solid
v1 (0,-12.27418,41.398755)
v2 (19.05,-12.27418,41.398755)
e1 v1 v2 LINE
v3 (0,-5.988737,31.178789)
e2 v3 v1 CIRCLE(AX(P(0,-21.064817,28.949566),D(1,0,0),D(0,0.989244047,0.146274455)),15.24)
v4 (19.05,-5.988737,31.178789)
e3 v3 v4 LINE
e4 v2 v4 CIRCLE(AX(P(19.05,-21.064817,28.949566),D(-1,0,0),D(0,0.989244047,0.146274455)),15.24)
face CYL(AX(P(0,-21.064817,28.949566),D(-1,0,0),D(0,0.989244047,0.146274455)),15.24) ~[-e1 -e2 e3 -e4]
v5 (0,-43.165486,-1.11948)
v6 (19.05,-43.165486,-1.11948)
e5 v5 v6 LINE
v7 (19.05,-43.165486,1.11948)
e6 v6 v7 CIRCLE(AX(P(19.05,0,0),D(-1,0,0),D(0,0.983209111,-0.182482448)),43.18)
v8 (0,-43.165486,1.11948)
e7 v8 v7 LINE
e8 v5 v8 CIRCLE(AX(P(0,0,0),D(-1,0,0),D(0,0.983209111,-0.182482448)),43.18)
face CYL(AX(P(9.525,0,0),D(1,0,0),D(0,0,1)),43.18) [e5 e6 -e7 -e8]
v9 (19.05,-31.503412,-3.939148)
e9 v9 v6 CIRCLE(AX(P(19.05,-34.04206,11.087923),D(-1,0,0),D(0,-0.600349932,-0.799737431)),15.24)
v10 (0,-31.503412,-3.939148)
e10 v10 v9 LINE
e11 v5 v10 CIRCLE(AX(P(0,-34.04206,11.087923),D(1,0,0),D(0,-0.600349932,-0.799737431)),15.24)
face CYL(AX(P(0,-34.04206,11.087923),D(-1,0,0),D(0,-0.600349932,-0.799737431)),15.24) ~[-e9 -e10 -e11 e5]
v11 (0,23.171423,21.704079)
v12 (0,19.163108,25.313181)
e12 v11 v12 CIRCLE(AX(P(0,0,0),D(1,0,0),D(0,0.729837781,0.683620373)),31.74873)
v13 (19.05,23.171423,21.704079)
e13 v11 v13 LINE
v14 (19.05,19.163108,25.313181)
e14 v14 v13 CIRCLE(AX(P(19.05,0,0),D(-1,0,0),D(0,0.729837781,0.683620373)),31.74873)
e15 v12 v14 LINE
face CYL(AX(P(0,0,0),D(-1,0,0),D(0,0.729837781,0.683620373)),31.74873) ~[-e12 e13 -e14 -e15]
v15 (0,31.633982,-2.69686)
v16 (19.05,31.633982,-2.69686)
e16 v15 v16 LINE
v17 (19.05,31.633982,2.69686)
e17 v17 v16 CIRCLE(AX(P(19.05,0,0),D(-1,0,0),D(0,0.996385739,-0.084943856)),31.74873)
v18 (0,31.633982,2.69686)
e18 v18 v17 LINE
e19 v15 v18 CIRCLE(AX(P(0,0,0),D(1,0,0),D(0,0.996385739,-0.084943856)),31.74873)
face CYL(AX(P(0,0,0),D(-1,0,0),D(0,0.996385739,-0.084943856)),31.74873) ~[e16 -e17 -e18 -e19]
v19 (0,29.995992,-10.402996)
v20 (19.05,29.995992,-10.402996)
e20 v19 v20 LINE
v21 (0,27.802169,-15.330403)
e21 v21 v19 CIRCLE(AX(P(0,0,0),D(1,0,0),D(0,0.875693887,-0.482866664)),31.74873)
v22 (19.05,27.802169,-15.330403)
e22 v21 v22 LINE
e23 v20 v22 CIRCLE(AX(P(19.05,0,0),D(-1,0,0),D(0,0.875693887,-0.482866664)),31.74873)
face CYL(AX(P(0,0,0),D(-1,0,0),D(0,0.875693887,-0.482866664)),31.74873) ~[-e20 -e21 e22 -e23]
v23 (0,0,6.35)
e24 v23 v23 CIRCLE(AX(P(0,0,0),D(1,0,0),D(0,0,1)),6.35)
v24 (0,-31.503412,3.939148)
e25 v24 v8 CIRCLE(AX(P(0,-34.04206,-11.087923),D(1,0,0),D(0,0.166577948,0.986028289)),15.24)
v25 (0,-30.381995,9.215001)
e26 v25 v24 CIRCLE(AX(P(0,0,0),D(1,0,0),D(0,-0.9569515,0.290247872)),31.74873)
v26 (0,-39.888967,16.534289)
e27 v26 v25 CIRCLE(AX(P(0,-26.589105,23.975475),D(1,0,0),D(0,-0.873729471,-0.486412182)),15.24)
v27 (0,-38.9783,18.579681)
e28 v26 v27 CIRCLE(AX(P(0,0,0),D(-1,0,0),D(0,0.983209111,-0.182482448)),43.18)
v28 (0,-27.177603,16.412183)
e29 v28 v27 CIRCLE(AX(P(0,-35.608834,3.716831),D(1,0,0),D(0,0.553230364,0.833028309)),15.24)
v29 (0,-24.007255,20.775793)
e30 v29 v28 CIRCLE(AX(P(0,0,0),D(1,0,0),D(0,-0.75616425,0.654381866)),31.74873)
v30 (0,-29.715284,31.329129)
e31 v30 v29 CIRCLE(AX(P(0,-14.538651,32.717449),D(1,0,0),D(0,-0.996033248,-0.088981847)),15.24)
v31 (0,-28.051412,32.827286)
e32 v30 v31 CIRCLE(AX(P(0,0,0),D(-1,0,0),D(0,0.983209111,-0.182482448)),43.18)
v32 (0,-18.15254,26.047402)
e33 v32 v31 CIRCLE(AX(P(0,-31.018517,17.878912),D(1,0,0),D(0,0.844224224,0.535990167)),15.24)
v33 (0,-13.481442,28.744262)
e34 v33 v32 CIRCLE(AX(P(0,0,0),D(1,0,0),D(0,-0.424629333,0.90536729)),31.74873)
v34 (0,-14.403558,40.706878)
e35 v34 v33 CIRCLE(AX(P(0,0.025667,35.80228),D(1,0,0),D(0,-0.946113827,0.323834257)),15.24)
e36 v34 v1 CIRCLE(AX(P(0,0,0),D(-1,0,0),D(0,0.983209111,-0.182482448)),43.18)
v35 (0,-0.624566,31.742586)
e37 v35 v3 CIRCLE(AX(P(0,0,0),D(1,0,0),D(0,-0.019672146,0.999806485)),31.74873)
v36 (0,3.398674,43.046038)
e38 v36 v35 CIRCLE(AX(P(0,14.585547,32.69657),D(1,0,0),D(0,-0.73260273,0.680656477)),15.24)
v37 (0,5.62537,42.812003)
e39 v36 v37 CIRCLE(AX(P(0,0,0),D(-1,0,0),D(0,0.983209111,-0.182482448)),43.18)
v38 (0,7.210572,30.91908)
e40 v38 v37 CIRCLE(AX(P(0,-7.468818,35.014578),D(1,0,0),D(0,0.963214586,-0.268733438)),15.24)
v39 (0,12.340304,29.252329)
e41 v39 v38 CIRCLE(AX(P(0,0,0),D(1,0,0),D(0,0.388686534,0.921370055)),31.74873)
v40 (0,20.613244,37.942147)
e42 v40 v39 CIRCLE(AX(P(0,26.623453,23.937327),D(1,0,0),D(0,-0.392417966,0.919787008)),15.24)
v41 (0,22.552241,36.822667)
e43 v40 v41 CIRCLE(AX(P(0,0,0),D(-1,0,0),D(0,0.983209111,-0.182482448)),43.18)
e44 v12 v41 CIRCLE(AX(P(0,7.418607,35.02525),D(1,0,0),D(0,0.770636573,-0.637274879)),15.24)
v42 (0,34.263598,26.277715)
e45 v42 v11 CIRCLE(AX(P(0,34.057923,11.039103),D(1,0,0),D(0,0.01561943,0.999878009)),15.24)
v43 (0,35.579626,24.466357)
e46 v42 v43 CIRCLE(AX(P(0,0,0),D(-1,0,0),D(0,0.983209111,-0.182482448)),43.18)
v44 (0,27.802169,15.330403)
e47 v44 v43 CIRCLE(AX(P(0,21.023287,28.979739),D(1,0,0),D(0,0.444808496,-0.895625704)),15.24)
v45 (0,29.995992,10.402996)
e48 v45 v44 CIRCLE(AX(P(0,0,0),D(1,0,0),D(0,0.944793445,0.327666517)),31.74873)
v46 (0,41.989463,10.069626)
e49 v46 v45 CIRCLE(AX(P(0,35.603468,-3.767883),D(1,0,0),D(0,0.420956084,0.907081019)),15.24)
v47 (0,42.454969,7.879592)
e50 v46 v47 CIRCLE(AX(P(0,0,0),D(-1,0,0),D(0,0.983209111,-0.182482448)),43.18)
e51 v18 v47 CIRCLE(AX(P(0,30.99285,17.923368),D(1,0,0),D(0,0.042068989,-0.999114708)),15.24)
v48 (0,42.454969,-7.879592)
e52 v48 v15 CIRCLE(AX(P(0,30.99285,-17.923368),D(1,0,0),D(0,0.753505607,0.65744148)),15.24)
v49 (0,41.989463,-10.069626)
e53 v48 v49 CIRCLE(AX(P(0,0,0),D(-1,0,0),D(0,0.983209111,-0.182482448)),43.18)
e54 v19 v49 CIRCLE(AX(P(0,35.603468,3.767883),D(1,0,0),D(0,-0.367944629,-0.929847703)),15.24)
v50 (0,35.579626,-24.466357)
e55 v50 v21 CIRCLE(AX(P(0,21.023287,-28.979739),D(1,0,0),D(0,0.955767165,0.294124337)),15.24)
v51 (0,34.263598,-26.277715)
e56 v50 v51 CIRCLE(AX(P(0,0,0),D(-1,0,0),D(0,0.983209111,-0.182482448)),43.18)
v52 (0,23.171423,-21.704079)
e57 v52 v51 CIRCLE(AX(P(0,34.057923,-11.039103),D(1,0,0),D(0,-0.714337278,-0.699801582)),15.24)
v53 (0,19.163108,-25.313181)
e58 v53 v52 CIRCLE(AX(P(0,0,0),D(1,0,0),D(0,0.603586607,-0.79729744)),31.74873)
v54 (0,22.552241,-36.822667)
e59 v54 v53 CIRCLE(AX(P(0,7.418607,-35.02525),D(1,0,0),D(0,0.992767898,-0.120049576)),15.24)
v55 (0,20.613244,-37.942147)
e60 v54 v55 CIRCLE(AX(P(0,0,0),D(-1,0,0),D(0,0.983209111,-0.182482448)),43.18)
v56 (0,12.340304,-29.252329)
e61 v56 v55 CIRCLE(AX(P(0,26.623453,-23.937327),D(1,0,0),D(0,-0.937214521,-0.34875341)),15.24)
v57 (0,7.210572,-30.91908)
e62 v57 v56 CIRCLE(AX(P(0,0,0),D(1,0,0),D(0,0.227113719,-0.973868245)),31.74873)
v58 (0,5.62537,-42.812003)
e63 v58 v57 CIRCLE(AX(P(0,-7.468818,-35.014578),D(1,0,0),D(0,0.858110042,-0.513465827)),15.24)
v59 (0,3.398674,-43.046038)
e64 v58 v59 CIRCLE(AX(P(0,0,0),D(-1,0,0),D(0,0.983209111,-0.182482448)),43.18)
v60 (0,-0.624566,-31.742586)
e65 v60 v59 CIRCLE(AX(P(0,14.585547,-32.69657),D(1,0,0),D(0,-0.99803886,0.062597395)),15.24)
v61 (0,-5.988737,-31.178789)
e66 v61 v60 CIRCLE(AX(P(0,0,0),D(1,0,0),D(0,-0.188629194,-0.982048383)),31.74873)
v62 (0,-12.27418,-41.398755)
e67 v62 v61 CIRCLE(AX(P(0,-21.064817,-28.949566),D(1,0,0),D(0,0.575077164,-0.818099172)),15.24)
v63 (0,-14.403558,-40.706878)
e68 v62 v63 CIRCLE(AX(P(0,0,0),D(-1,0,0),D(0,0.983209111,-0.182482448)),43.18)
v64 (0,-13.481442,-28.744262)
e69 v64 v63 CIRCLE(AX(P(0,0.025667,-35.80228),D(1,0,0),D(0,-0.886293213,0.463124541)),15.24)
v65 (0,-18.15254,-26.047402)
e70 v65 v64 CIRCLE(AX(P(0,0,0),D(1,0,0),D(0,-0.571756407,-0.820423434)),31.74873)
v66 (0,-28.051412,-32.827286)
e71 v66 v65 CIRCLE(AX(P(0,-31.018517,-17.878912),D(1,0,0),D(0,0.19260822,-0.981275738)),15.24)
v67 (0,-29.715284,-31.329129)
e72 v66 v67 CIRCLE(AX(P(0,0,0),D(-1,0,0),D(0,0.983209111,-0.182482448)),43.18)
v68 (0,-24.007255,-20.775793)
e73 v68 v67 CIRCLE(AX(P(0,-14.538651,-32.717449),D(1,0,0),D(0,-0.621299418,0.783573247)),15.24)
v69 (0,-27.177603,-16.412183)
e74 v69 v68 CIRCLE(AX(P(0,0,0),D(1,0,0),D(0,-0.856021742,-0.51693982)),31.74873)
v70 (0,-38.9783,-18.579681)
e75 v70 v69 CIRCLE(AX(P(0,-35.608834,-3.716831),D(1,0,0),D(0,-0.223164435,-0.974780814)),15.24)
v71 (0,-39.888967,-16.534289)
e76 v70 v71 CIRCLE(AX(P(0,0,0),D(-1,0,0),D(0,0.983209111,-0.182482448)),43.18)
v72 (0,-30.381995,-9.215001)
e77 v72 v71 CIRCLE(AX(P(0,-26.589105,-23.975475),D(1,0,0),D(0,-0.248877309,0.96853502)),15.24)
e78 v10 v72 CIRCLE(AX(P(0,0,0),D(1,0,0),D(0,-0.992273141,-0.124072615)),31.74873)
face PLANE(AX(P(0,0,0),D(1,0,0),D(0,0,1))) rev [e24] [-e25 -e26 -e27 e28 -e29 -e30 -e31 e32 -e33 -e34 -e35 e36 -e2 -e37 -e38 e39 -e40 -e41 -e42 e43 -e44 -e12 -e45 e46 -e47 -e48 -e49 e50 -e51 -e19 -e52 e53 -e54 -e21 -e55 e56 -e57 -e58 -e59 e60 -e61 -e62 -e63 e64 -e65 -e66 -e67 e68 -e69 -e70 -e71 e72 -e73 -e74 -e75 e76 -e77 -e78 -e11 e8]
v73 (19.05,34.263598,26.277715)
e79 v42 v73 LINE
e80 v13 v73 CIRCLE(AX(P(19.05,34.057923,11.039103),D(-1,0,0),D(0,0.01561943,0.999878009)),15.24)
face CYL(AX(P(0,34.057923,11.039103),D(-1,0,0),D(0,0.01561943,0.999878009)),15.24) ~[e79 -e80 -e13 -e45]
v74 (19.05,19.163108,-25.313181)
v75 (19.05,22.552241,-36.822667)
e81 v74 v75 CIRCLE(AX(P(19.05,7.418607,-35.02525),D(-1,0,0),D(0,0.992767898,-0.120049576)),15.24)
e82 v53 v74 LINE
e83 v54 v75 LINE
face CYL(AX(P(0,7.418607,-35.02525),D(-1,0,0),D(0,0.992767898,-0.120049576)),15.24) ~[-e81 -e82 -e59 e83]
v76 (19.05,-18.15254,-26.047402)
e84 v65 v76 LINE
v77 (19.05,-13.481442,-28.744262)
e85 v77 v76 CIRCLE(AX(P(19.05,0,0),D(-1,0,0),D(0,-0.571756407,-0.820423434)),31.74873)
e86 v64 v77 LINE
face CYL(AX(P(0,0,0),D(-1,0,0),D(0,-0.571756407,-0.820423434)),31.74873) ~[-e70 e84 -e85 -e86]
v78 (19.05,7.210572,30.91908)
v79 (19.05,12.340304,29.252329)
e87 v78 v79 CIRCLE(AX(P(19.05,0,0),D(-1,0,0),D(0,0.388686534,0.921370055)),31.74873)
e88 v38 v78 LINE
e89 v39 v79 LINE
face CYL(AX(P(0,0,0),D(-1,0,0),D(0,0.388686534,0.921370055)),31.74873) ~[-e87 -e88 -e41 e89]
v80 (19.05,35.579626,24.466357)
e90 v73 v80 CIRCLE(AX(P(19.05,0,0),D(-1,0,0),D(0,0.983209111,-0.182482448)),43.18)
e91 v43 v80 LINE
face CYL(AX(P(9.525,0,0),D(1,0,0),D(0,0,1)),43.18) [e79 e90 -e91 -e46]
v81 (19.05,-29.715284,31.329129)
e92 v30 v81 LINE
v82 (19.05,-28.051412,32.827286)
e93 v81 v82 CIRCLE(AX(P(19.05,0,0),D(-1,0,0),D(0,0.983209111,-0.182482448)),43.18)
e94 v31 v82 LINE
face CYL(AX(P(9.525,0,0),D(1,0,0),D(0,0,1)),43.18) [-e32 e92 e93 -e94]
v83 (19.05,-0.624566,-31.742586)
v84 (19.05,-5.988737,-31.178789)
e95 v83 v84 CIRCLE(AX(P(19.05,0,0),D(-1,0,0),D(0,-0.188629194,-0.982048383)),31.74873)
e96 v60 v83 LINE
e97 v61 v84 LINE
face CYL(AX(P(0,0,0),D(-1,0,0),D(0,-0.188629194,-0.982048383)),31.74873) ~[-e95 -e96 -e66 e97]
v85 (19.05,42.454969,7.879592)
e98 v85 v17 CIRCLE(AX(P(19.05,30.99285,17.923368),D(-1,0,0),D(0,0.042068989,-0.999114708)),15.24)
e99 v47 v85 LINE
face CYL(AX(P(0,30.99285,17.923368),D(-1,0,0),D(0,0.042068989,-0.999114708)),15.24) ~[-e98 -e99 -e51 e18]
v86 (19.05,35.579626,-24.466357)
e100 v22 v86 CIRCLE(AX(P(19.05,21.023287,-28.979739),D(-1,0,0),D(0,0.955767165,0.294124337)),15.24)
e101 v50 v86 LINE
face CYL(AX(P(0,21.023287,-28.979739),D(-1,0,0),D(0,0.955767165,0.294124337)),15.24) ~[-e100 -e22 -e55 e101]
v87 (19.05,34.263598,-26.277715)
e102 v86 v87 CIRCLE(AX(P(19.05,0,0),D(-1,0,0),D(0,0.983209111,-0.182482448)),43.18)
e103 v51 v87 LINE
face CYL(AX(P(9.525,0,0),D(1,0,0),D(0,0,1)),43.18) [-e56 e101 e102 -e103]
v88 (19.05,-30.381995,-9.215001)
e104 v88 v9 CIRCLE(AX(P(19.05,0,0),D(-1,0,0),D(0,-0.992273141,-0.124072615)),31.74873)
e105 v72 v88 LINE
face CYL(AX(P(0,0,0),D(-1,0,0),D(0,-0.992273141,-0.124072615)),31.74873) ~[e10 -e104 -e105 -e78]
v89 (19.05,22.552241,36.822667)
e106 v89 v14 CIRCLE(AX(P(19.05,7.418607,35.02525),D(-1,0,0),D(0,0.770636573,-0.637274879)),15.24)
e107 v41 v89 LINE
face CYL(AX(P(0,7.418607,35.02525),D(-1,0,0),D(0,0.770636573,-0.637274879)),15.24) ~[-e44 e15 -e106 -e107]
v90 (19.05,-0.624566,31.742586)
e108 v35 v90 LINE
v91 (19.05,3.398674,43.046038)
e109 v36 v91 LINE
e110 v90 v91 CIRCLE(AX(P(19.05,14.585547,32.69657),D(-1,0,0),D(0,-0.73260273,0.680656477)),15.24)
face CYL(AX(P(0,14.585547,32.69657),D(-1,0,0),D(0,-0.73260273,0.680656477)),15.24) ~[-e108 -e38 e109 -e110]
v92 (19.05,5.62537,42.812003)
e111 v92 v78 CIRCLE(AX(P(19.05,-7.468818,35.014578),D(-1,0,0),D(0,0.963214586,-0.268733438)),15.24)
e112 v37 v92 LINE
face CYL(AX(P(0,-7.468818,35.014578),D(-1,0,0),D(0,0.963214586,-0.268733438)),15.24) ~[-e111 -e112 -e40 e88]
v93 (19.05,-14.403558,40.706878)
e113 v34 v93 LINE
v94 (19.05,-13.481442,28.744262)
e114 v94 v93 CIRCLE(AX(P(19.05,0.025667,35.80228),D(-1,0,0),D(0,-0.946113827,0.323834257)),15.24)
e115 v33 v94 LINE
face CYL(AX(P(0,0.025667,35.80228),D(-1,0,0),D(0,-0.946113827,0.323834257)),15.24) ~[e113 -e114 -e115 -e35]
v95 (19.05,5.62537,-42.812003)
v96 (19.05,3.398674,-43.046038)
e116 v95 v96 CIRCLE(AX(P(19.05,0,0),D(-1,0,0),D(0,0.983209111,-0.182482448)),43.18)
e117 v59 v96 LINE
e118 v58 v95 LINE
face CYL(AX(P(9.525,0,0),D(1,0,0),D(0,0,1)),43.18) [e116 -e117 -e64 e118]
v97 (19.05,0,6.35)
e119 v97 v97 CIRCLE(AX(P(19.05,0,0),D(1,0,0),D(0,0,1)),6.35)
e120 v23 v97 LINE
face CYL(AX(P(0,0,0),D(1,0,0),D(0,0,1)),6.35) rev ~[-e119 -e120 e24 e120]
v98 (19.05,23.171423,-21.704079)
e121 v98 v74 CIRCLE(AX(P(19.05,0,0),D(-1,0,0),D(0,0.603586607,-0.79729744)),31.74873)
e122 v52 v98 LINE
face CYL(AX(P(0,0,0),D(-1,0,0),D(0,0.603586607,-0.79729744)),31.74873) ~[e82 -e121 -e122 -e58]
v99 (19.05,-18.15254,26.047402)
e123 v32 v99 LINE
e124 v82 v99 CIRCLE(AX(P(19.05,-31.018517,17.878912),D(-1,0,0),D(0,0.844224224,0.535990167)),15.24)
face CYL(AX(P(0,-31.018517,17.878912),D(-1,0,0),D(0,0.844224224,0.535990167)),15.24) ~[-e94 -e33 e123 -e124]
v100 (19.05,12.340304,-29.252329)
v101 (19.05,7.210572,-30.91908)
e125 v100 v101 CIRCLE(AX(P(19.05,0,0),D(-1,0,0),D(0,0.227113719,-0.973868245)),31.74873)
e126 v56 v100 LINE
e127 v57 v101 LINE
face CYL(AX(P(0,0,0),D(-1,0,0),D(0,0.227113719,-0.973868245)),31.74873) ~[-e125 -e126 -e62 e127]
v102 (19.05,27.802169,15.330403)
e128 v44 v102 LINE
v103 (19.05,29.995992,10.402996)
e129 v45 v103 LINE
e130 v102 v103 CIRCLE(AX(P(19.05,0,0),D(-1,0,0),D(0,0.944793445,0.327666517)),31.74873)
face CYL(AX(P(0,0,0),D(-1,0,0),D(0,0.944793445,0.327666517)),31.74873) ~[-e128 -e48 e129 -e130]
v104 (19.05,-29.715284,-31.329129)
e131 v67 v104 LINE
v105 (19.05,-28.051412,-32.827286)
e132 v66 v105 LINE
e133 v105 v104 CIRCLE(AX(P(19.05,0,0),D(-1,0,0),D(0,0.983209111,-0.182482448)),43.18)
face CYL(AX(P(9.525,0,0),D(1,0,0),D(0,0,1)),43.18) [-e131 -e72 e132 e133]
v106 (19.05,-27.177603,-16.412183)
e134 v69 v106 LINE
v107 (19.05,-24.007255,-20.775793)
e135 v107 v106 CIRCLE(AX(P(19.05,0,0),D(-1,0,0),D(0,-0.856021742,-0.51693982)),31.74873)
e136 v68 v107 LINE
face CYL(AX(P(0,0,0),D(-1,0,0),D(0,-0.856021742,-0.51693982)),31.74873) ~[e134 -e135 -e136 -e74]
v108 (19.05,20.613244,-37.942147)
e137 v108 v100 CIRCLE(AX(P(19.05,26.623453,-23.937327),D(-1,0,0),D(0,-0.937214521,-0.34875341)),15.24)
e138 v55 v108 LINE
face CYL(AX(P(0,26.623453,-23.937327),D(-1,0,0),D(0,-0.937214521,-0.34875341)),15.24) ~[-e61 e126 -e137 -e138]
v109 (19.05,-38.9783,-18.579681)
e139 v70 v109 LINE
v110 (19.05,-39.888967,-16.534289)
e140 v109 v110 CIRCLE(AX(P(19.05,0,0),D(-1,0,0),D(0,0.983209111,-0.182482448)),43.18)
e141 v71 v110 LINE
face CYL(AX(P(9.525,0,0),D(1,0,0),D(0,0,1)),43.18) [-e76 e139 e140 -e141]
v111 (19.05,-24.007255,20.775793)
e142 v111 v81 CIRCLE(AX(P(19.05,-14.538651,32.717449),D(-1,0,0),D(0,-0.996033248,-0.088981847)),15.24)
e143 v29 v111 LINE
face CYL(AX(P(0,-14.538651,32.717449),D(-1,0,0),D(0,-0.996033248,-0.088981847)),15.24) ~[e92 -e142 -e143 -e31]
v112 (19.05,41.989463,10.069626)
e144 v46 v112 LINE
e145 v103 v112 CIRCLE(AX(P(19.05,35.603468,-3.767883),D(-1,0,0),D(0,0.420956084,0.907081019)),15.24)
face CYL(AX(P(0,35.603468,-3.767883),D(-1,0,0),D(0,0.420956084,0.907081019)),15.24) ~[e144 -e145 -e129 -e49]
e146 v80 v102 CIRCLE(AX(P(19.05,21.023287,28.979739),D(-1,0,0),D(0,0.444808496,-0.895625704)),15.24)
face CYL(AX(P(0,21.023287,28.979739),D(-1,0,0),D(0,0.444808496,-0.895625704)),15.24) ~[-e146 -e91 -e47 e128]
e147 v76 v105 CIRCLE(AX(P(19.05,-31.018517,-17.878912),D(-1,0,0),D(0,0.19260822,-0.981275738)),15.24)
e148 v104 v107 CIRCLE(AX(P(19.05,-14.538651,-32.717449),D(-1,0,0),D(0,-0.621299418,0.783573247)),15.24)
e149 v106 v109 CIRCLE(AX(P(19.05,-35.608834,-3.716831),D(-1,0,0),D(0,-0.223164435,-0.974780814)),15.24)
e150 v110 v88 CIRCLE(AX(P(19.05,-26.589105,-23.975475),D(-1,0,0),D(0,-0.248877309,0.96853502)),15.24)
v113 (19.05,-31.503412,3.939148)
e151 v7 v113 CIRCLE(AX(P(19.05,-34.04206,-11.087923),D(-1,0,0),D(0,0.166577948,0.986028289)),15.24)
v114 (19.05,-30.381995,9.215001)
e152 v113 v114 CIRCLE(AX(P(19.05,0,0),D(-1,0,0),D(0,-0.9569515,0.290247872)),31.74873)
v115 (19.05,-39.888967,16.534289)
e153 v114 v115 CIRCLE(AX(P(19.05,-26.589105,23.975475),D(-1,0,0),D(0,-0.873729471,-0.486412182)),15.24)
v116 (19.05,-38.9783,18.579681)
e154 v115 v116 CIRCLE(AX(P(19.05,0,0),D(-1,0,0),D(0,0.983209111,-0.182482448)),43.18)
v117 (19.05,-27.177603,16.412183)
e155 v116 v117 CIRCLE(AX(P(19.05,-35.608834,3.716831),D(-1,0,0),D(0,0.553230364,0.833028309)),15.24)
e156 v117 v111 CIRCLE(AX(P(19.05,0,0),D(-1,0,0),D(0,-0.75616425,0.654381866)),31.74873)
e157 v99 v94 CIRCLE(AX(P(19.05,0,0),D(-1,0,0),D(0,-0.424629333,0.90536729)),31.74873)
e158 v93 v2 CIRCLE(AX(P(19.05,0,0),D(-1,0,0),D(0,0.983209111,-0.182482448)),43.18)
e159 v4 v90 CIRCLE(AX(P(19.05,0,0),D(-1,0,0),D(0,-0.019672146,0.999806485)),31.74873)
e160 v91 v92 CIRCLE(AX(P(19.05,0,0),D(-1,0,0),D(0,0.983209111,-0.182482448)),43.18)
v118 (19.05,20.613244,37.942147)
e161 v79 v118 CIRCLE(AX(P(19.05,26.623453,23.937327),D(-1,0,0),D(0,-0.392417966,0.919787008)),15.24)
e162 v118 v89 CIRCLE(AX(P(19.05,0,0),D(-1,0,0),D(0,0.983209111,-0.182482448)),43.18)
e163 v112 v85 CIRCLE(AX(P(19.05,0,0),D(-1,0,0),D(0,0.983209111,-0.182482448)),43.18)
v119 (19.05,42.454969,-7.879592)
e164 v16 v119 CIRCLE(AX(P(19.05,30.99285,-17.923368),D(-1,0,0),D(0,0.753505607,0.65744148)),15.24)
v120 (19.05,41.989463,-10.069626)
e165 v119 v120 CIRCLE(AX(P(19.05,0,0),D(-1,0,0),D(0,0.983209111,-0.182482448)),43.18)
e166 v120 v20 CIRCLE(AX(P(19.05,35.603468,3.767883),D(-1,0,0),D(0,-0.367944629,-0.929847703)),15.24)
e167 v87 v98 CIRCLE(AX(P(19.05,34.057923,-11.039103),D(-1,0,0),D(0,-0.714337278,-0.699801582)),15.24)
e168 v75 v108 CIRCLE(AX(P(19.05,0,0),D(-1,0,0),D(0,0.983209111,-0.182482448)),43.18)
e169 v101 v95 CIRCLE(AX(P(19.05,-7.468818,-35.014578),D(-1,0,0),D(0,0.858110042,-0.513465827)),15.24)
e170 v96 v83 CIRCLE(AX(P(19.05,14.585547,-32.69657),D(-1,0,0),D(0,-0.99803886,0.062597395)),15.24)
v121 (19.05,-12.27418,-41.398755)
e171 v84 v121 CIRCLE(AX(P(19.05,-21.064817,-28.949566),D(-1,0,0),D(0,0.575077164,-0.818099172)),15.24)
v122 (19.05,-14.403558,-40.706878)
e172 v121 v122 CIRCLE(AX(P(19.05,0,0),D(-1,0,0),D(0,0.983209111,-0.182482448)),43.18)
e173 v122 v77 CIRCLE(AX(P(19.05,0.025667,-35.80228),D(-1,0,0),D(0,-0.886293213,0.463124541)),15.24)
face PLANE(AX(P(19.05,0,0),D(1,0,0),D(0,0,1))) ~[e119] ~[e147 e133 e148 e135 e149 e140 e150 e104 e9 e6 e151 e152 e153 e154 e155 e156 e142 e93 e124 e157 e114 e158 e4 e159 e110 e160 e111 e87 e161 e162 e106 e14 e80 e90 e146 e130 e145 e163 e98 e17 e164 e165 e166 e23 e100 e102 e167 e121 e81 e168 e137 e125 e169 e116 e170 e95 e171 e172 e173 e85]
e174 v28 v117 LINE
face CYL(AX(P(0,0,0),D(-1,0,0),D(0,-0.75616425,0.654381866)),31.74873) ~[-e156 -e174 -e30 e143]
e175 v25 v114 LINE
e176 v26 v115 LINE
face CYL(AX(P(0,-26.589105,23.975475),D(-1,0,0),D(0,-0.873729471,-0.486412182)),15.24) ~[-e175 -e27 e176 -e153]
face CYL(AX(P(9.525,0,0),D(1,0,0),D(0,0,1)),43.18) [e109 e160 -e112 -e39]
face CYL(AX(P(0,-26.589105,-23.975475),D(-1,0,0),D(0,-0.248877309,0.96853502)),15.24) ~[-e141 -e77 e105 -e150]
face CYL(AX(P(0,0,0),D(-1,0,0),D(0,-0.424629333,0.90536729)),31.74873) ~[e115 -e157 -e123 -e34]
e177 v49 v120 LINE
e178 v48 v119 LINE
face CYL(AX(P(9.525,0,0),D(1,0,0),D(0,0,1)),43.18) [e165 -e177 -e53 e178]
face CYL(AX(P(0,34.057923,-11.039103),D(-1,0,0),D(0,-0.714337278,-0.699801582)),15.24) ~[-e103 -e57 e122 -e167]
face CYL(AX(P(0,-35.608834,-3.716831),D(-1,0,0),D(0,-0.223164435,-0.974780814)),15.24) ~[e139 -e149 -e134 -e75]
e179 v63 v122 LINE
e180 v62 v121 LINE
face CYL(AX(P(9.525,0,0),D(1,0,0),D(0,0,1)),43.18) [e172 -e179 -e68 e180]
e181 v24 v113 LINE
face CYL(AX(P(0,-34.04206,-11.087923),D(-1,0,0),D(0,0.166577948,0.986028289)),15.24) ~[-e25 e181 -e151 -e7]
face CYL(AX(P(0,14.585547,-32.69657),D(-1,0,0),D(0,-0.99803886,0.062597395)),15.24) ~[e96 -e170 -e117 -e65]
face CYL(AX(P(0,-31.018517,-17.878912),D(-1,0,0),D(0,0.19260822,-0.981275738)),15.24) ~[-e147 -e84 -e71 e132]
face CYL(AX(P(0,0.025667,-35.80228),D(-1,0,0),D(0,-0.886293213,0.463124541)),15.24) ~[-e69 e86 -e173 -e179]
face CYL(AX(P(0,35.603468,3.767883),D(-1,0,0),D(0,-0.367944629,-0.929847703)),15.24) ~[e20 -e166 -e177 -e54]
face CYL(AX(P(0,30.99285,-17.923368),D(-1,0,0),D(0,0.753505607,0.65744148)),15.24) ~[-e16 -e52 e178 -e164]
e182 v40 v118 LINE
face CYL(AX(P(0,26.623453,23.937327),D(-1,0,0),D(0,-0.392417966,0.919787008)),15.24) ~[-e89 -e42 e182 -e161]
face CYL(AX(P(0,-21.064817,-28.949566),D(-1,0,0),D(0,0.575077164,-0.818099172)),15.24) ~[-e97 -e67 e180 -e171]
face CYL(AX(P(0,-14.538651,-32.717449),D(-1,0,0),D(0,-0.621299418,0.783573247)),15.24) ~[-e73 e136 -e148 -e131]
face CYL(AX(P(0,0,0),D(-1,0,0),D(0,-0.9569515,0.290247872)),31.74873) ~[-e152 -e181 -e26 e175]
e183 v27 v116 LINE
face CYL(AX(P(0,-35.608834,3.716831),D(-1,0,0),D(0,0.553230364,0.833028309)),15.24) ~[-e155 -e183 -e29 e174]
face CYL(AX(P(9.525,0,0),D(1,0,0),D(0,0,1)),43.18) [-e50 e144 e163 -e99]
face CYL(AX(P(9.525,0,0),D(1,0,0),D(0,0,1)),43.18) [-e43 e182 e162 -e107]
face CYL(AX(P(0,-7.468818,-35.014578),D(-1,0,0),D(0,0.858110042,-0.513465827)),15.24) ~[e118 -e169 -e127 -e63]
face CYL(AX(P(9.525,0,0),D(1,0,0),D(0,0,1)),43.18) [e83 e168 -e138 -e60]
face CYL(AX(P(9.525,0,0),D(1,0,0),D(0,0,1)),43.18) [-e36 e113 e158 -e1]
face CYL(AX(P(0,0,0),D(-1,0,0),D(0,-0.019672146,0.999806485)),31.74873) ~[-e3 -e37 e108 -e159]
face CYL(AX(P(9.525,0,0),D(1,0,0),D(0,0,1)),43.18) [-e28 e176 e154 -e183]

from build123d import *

# Parameters (mm, degrees)
BASPROSKE_W     = 19.05
BASPROSKE_H     = 43.18
TOOTHCUT_DEPTH  = 64.968174118
TEETHCUTS_COUNT = 15
TEETHCUTS_ANGLE = 336
BORSKE_R        = 6.35
BORE_DEPTH      = 50.8000508


with BuildPart() as part:
    # BasProSke → Base-Revolve (revolve)
    with BuildSketch(Plane(origin=(0, 0, 0), x_dir=(1, 0, 0), z_dir=(0, 1, 0)), mode=Mode.PRIVATE) as base_revolve_sk:
        with Locations((9.525, 21.59)):
            Rectangle(BASPROSKE_W, BASPROSKE_H)
    revolve(base_revolve_sk.sketch.rotate(Axis((-10, 0, 0), (1, 0, 0)), 180), axis=Axis((-10, 0, 0), (1, 0, 0)))

    # TooCutSke → ToothCut (cut, through all)
    with BuildSketch(Plane(origin=(0, 0, 0), x_dir=(0, 0, -1), z_dir=(1, 0, 0))):
        with BuildLine():
            ThreePointArc((2.696859547, 31.633981811), (0, 31.74873), (-2.696859547, 31.633981811))
            ThreePointArc((-2.696859547, 31.633981811), (-4.185540078, 37.590553983), (-7.903959541, 42.476275881))
            ThreePointArc((-7.903959541, 42.476275881), (0, 43.2054), (7.903959541, 42.476275881))
            ThreePointArc((7.903959541, 42.476275881), (4.185540078, 37.590553983), (2.696859547, 31.633981811))
        make_face()
    toothcut = extrude(amount=TOOTHCUT_DEPTH, mode=Mode.SUBTRACT)

    # TeethCuts: ToothCut ×15 about axis
    teethcuts_axis = Axis((-10, 0, 0), (1, 0, 0))
    for i in range(1, TEETHCUTS_COUNT):
        add(toothcut.rotate(teethcuts_axis, i * TEETHCUTS_ANGLE / (TEETHCUTS_COUNT - 1)), mode=Mode.SUBTRACT)

    # BorSke → Bore (cut, symmetric)
    with BuildSketch(Plane(origin=(0, 0, 0), x_dir=(0, 0, -1), z_dir=(1, 0, 0))):
        with Locations(Location((0, 0, 0), (0, 0, 180))):
            Circle(BORSKE_R)
    extrude(amount=BORE_DEPTH, both=True, mode=Mode.SUBTRACT)


solid = part.part
